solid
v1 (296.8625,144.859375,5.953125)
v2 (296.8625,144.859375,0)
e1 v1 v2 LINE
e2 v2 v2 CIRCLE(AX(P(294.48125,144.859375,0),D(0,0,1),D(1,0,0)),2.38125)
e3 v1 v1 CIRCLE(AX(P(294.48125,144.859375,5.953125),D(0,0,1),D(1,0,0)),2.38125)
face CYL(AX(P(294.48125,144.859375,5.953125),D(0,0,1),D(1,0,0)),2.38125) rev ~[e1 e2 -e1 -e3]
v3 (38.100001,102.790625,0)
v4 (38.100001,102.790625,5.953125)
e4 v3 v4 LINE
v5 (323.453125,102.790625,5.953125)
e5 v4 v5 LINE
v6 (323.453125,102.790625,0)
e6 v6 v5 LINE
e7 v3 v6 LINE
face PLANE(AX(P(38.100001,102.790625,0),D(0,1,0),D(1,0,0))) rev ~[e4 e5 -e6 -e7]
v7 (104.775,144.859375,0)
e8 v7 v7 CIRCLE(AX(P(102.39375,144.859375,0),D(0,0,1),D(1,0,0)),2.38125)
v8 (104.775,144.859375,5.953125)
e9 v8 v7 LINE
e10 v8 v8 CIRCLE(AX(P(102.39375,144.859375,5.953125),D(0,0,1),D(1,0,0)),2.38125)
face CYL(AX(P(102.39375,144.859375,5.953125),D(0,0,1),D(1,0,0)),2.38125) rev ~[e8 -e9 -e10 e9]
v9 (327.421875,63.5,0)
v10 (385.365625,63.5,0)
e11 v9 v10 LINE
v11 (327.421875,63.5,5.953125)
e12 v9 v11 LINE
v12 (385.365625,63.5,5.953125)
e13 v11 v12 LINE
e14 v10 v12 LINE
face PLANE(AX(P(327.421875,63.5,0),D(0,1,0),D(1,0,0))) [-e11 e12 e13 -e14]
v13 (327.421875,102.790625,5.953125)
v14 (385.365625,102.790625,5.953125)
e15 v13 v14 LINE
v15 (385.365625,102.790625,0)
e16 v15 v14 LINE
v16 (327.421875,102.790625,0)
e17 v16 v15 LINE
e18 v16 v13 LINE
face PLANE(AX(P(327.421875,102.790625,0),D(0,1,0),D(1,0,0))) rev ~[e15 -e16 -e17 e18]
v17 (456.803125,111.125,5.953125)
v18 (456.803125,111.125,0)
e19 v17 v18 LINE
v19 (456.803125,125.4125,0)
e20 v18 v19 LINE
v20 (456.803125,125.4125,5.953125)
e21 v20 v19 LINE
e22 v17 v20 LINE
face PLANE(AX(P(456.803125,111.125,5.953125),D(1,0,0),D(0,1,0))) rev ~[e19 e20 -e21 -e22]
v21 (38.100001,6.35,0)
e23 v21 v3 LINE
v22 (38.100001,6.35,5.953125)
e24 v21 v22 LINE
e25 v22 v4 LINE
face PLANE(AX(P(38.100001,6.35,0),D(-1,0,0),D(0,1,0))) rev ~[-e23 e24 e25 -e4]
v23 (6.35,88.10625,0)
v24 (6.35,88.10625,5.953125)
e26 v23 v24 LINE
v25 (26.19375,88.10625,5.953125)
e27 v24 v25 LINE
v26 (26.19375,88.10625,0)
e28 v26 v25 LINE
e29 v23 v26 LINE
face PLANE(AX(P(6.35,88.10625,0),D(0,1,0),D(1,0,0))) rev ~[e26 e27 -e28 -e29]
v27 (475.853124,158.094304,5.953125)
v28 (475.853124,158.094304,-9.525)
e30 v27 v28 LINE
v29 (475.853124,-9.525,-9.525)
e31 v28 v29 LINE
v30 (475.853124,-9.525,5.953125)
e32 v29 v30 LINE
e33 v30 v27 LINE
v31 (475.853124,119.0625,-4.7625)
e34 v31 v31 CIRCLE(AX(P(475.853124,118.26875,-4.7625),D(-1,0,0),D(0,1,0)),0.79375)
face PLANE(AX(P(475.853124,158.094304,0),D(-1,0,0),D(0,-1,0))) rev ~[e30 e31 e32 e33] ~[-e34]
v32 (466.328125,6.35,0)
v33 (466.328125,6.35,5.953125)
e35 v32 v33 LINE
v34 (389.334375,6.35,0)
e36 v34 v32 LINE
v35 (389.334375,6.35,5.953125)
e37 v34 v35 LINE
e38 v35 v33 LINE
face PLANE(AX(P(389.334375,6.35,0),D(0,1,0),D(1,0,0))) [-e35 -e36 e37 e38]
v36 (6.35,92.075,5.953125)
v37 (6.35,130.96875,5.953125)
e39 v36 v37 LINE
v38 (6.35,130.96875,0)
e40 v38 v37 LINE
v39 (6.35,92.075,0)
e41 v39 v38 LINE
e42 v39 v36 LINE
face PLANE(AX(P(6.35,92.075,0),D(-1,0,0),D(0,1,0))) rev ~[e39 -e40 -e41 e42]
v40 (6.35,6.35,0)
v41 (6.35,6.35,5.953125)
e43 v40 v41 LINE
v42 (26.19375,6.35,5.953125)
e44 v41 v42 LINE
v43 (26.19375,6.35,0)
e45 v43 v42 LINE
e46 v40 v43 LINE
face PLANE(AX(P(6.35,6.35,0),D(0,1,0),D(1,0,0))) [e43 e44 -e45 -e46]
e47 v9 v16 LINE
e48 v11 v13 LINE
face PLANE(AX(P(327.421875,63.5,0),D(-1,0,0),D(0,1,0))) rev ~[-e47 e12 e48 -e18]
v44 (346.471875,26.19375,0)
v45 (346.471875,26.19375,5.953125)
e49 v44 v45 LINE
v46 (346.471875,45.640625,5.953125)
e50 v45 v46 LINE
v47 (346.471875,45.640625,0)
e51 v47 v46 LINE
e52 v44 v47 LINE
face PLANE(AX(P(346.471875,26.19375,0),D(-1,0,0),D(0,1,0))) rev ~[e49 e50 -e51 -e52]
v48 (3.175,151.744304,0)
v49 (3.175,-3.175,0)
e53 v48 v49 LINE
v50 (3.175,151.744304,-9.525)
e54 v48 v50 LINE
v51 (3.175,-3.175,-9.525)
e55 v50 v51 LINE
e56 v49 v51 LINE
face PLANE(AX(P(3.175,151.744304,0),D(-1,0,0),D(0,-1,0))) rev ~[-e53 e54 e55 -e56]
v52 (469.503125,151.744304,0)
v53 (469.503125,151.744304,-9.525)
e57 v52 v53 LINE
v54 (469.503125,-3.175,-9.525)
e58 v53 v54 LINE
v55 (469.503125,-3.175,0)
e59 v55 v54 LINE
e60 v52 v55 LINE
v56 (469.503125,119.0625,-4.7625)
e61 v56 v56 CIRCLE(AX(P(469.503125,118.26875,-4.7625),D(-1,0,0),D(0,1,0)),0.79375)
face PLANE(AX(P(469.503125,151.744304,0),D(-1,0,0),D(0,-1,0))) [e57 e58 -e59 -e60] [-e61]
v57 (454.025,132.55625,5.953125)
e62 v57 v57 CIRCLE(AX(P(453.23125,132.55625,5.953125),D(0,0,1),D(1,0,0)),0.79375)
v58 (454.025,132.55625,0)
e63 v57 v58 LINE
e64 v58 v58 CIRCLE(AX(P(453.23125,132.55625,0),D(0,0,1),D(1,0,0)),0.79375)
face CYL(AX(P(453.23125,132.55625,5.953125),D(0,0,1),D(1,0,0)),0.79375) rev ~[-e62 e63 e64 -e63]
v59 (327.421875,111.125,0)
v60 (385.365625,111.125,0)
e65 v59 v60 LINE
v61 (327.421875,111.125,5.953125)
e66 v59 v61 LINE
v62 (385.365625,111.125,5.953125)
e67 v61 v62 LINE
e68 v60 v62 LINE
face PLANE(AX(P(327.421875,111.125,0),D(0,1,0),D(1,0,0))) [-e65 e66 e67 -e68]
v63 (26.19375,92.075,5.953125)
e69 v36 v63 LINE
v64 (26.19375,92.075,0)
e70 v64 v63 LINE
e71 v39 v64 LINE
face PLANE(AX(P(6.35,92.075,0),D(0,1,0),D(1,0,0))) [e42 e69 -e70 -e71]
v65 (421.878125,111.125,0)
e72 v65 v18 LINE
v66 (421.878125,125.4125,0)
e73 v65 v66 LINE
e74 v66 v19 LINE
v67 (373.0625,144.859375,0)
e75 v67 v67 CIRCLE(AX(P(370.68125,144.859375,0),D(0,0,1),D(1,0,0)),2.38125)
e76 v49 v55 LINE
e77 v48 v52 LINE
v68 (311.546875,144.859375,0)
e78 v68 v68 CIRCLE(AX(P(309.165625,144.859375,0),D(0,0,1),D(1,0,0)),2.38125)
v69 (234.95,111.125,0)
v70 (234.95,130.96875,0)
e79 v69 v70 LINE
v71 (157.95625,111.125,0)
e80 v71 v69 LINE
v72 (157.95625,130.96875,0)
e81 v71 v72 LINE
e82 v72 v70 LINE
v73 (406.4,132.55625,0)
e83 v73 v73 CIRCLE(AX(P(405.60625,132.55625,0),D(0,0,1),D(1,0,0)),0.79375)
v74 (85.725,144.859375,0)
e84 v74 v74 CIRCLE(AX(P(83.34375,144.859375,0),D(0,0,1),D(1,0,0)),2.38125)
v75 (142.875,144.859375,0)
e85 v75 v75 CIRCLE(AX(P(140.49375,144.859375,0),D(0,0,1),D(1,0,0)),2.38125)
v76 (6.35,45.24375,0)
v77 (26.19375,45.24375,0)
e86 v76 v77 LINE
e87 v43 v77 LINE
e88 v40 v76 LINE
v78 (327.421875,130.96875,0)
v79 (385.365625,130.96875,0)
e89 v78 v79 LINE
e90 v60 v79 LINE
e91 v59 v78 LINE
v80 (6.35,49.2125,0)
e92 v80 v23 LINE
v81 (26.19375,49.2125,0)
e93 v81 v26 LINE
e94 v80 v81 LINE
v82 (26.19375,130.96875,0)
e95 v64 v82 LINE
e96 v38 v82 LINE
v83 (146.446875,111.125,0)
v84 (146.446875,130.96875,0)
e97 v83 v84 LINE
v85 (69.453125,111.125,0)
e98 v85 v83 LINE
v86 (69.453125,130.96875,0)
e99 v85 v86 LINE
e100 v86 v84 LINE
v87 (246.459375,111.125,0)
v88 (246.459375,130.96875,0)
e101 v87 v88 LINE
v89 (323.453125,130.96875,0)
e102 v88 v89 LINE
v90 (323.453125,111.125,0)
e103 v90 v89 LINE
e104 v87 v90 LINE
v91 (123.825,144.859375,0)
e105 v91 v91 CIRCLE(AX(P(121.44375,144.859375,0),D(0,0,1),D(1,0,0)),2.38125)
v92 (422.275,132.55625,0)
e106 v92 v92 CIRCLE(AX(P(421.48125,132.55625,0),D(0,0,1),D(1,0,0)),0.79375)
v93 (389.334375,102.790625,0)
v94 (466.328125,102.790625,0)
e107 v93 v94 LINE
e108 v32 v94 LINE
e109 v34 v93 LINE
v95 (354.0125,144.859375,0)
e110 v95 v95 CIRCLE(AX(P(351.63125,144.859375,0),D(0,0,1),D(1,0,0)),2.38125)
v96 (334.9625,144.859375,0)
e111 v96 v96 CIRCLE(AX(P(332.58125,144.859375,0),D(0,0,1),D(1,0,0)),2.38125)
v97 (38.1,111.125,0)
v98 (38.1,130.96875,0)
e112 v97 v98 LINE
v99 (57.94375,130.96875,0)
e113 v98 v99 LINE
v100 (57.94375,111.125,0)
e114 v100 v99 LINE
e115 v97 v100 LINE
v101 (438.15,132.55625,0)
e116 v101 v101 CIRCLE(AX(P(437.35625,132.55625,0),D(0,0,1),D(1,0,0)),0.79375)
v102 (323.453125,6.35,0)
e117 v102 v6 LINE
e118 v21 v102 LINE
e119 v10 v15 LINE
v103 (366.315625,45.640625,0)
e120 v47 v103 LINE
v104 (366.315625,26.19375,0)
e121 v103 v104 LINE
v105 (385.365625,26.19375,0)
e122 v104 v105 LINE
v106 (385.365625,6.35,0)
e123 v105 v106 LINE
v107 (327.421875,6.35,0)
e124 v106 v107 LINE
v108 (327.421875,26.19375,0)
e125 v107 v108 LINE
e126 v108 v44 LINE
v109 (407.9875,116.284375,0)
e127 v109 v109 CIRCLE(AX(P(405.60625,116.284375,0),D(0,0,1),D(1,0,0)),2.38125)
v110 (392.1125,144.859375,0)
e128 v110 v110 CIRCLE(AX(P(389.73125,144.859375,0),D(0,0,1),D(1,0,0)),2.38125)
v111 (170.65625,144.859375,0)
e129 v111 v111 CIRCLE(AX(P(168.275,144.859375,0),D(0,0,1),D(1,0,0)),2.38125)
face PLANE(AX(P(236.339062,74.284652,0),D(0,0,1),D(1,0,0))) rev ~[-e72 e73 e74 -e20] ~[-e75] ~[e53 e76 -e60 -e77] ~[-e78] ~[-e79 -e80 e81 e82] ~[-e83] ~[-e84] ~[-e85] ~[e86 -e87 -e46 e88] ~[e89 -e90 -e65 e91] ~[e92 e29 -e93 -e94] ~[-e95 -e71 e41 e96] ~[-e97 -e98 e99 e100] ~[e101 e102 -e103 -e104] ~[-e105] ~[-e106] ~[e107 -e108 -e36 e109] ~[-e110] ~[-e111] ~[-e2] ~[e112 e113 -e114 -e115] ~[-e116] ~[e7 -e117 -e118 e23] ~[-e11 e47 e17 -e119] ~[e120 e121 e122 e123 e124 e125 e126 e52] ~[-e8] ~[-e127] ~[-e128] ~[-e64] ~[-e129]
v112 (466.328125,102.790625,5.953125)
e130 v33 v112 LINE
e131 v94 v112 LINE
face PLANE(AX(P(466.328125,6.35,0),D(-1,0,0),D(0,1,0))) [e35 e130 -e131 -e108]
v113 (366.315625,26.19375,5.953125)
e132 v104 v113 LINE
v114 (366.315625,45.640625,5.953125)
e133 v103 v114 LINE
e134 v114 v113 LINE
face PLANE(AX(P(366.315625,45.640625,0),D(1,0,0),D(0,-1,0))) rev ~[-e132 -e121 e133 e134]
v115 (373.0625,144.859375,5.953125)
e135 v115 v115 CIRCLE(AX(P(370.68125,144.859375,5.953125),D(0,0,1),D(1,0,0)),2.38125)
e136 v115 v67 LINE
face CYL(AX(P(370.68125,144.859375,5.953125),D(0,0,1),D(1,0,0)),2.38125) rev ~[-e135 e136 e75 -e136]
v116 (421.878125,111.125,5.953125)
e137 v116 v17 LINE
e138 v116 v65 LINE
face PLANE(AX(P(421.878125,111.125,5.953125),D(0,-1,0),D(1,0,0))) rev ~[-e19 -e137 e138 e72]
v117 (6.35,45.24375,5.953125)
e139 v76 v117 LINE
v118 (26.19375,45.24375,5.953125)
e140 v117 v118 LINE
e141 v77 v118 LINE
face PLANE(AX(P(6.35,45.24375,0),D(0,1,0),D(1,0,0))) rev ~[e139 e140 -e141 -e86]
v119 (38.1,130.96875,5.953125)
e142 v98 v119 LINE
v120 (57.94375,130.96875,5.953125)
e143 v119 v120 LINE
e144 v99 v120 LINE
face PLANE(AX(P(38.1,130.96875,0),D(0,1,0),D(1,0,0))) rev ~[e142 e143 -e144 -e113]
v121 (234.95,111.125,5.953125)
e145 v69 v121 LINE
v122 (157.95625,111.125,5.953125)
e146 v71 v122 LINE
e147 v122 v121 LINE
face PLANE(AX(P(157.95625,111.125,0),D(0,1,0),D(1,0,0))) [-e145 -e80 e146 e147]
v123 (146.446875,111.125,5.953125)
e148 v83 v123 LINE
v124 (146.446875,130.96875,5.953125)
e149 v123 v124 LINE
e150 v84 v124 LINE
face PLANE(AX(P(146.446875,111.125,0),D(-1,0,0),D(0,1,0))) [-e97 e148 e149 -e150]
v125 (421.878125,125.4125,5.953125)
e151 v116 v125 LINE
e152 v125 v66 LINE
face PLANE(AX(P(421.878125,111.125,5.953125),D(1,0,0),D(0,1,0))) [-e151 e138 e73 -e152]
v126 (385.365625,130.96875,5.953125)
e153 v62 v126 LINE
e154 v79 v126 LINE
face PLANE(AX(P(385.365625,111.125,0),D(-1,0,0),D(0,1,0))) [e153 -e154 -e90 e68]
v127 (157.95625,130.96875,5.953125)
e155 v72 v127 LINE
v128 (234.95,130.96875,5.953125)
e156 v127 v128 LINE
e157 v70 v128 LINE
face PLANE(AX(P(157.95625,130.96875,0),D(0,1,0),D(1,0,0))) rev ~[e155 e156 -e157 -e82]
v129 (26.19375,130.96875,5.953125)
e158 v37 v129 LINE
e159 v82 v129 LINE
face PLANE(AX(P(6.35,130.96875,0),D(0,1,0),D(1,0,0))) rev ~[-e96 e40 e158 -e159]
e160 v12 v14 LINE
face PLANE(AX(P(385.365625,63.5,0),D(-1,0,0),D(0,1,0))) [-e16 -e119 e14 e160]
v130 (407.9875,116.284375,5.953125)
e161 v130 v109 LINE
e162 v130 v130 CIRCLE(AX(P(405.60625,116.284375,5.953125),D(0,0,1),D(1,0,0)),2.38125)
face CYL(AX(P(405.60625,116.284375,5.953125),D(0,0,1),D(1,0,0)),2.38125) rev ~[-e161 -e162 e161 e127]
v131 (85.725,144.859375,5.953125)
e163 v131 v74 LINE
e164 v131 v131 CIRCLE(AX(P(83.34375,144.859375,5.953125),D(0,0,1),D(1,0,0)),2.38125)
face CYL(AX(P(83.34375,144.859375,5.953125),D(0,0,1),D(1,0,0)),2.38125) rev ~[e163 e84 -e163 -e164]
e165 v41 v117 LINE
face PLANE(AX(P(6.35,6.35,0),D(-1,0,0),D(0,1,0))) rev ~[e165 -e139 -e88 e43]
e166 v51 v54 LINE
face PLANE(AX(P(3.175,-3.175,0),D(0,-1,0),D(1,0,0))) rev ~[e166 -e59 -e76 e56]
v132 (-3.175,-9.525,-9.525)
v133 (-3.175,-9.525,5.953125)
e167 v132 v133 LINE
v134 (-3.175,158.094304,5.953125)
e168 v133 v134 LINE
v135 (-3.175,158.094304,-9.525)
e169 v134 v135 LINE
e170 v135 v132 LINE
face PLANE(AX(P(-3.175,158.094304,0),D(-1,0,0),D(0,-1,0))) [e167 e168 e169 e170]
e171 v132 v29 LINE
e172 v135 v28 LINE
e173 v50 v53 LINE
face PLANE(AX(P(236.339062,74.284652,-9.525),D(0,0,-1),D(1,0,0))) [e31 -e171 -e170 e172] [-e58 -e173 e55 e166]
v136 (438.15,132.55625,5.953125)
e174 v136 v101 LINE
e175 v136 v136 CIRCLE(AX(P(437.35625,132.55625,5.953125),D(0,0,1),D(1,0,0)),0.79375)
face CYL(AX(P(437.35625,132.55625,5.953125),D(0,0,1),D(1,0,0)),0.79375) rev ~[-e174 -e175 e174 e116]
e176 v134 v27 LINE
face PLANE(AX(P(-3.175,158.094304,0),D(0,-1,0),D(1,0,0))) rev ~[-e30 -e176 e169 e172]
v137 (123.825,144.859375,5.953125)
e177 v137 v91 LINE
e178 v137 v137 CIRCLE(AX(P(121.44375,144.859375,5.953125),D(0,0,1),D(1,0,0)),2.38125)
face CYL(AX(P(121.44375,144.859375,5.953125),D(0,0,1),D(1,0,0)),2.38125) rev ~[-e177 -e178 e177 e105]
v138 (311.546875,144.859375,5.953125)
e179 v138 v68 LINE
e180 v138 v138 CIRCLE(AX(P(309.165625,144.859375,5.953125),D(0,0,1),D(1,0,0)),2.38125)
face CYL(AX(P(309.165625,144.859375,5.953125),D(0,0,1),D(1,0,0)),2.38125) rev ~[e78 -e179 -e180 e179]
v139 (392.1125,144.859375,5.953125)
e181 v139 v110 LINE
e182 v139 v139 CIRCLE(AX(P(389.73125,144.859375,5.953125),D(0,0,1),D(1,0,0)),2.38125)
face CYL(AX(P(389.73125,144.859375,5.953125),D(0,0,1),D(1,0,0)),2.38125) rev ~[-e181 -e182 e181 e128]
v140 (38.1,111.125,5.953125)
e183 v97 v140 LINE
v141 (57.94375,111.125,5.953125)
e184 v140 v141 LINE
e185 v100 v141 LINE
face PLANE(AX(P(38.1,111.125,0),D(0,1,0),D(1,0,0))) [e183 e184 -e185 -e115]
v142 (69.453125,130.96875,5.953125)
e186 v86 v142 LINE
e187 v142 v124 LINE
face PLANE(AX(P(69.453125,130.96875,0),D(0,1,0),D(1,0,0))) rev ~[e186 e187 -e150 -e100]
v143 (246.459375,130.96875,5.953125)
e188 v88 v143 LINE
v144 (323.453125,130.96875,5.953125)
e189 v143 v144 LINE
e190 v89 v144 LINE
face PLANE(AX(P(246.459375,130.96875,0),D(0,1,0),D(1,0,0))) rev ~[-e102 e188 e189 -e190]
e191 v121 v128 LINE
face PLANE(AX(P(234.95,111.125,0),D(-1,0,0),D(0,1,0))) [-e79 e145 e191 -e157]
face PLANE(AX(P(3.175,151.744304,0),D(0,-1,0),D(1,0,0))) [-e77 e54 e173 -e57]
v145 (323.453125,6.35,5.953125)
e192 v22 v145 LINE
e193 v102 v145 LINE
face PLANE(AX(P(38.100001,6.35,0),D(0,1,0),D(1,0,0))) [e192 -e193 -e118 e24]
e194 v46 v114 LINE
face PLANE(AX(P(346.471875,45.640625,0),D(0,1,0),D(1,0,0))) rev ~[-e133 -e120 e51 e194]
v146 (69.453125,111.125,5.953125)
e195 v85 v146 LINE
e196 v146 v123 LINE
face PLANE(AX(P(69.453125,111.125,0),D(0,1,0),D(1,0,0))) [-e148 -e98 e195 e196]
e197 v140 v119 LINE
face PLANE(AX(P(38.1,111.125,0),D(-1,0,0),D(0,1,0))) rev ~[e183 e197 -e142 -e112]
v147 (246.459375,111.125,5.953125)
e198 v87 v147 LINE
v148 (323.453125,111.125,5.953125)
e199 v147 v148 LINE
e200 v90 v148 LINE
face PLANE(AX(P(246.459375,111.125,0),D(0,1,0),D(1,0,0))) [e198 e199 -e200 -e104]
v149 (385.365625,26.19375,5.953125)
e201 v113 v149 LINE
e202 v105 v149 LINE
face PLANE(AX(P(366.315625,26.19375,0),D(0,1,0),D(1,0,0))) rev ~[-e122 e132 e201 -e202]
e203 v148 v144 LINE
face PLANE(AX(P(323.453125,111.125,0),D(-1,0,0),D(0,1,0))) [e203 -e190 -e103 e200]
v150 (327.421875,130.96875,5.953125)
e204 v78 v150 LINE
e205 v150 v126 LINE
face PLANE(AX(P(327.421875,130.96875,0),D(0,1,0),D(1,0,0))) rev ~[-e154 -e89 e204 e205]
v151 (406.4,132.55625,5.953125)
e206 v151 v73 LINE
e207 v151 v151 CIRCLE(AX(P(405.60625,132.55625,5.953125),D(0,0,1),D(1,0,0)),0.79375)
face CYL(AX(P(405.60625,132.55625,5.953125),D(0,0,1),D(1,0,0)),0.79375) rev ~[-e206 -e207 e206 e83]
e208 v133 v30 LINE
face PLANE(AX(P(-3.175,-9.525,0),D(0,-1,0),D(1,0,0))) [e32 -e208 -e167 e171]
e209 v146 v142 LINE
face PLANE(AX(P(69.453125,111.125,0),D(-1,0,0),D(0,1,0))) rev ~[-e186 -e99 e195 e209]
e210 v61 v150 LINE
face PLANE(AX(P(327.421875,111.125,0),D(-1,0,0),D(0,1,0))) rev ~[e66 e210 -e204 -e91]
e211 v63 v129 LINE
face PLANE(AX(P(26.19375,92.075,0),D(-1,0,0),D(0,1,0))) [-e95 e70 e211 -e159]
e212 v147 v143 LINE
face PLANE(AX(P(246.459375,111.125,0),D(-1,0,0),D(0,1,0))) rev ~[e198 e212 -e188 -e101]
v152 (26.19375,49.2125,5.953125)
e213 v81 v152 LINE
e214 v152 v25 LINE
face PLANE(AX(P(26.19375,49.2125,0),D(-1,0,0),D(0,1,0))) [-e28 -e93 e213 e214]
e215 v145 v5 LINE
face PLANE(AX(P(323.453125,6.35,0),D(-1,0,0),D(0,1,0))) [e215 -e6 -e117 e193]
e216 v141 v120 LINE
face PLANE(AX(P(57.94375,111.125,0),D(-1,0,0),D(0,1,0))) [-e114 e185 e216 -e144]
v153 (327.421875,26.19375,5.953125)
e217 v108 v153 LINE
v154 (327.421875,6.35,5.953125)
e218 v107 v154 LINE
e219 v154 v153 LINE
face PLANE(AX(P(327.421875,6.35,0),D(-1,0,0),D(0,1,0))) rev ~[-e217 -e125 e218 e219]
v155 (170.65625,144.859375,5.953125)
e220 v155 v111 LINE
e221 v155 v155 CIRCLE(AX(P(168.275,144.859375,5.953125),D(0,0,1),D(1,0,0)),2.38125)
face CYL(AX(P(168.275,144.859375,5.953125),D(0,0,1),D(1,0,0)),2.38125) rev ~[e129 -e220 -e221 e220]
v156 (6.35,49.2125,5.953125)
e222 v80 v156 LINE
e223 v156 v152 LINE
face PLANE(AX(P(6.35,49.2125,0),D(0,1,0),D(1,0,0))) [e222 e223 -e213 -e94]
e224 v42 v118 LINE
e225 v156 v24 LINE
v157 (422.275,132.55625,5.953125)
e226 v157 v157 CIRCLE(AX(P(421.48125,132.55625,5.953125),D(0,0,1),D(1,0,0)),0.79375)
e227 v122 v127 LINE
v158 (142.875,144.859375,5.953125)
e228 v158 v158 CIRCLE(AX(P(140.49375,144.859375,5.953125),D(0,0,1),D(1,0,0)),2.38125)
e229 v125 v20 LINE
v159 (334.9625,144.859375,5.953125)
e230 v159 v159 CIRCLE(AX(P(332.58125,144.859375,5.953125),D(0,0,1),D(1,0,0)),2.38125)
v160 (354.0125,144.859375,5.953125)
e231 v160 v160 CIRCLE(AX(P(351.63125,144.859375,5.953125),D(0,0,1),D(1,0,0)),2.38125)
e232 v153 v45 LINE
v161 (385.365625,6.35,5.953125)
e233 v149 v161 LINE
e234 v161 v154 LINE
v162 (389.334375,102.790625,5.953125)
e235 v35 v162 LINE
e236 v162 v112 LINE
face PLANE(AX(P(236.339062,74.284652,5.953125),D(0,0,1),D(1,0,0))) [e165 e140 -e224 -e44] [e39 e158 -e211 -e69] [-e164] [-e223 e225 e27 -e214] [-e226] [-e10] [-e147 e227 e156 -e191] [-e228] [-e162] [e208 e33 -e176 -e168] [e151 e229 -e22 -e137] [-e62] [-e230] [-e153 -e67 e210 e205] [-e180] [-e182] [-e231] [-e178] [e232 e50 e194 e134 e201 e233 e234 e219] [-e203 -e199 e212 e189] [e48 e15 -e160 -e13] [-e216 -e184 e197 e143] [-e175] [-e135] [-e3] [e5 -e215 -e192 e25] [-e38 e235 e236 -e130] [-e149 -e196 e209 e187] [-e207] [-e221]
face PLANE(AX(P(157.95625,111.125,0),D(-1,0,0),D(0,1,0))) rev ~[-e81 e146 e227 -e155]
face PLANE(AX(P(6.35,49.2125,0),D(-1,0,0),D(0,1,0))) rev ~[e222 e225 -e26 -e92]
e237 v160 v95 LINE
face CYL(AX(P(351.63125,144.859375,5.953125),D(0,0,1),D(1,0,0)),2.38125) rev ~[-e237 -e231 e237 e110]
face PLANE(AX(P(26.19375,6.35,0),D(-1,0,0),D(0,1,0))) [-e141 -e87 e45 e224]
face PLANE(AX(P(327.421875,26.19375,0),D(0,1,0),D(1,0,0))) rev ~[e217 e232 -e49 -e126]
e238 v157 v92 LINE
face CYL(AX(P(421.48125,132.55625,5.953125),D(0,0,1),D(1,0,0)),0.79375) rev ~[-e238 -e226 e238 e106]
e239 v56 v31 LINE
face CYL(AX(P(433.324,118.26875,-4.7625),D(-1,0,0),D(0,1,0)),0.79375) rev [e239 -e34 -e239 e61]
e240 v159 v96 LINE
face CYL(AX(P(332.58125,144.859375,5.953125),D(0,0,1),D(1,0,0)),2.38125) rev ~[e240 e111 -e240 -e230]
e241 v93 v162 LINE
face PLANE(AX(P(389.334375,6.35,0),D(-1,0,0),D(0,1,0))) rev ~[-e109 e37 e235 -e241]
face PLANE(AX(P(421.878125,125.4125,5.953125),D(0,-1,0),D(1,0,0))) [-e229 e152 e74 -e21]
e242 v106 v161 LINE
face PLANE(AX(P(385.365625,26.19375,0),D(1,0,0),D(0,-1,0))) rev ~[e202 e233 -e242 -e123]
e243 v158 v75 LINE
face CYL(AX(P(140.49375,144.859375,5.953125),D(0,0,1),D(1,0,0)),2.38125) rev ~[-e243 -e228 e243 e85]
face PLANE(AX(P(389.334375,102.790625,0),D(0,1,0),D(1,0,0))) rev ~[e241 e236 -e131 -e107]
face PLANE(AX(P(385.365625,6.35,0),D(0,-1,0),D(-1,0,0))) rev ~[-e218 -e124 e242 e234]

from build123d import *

# Parameters (mm, degrees)
F0_W      = 479.028125
F0_H      = 167.619304
F0_W_2    = 19.84375
F0_H_2    = 38.89375
F0_W_3    = 285.353125
F0_H_3    = 96.440625
F0_W_4    = 76.99375
F0_H_4    = 19.84375
F0_W_5    = 57.94375
F0_H_5    = 39.290625
F1_DEPTH  = 5.953125
F2_R      = 2.38125
F2_R_2    = 0.79375
F3_DEPTH  = 5.954125
F4_W      = 479.028125
F4_H      = 167.619304
F4_W_2    = 466.328125
F4_H_2    = 154.919304
F5_DEPTH  = 9.525
F6_W      = 34.925
F6_H      = 14.2875
F7_DEPTH  = 15.479125
F9_R      = 0.79375
F10_DEPTH = 42.530125


with BuildPart() as f1:
    # F0 (on Top) → F1 (new body)
    with BuildSketch(Plane.XY):
        with Locations((236.339062, 74.284652)):
            Rectangle(F0_W, F0_H)
        with Locations((16.271875, 25.796875)):
            Rectangle(F0_W_2, F0_H_2, mode=Mode.SUBTRACT)
        with Locations((16.271875, 68.659375)):
            Rectangle(F0_W_2, F0_H_2, mode=Mode.SUBTRACT)
        with Locations((180.776563, 54.570312)):
            Rectangle(F0_W_3, F0_H_3, mode=Mode.SUBTRACT)
        Polygon((385.365625, 6.35), (327.421875, 6.35), (327.421875, 26.19375), (346.471875, 26.19375), (346.471875, 45.640625), (366.315625, 45.640625), (366.315625, 26.19375), (385.365625, 26.19375), align=None, mode=Mode.SUBTRACT)
        with Locations((427.83125, 54.570312)):
            Rectangle(F0_W_4, F0_H_3, mode=Mode.SUBTRACT)
        with Locations((16.271875, 111.521875)):
            Rectangle(F0_W_2, F0_H_2, mode=Mode.SUBTRACT)
        with Locations((48.021875, 121.046875)):
            Rectangle(F0_W_2, F0_H_4, mode=Mode.SUBTRACT)
        with Locations((107.95, 121.046875)):
            Rectangle(F0_W_4, F0_H_4, mode=Mode.SUBTRACT)
        with Locations((196.453125, 121.046875)):
            Rectangle(F0_W_4, F0_H_4, mode=Mode.SUBTRACT)
        with Locations((356.39375, 83.145312)):
            Rectangle(F0_W_5, F0_H_5, mode=Mode.SUBTRACT)
        with Locations((284.95625, 121.046875)):
            Rectangle(F0_W_4, F0_H_4, mode=Mode.SUBTRACT)
        with Locations((356.39375, 121.046875)):
            Rectangle(F0_W_5, F0_H_4, mode=Mode.SUBTRACT)
    extrude(amount=F1_DEPTH)

    # F2 (on face) → F3 (cut, through all)
    with BuildSketch(Plane.XY.offset(5.953125)):
        with Locations((83.34375, 144.859375)):
            Circle(F2_R)
        with Locations((102.39375, 144.859375)):
            Circle(F2_R)
        with Locations((121.44375, 144.859375)):
            Circle(F2_R)
        with Locations((140.49375, 144.859375)):
            Circle(F2_R)
        with Locations((168.275, 144.859375)):
            Circle(F2_R)
        with Locations((294.48125, 144.859375)):
            Circle(F2_R)
        with Locations((309.165625, 144.859375)):
            Circle(F2_R)
        with Locations((332.58125, 144.859375)):
            Circle(F2_R)
        with Locations((351.63125, 144.859375)):
            Circle(F2_R)
        with Locations((370.68125, 144.859375)):
            Circle(F2_R)
        with Locations((389.73125, 144.859375)):
            Circle(F2_R)
        with Locations((405.60625, 116.284375)):
            Circle(F2_R)
        with Locations((405.60625, 132.55625)):
            Circle(F2_R_2)
        with Locations((421.48125, 132.55625)):
            Circle(F2_R_2)
        with Locations((437.35625, 132.55625)):
            Circle(F2_R_2)
        with Locations((453.23125, 132.55625)):
            Circle(F2_R_2)
    extrude(amount=-F3_DEPTH, mode=Mode.SUBTRACT)

    # F4 (on face) → F5 (join)
    with BuildSketch(Plane(origin=(0, 0, 0), x_dir=(1, 0, 0), z_dir=(0, 0, -1))):
        with Locations((236.339062, -74.284652)):
            Rectangle(F4_W, F4_H)
        with Locations((236.339062, -74.284652)):
            Rectangle(F4_W_2, F4_H_2, mode=Mode.SUBTRACT)
    extrude(amount=F5_DEPTH)

    # F6 (on face) → F7 (cut, through all)
    with BuildSketch(Plane.XY.offset(5.953125)):
        with Locations((439.340625, 118.26875)):
            Rectangle(F6_W, F6_H)
    extrude(amount=-F7_DEPTH, mode=Mode.SUBTRACT)

    # F9 (on offset) → F10 (cut, through all)
    with BuildSketch(Plane.YZ.offset(433.324)):
        with Locations((118.26875, -4.7625)):
            Circle(F9_R)
    extrude(amount=F10_DEPTH, mode=Mode.SUBTRACT)


solid = f1.part
